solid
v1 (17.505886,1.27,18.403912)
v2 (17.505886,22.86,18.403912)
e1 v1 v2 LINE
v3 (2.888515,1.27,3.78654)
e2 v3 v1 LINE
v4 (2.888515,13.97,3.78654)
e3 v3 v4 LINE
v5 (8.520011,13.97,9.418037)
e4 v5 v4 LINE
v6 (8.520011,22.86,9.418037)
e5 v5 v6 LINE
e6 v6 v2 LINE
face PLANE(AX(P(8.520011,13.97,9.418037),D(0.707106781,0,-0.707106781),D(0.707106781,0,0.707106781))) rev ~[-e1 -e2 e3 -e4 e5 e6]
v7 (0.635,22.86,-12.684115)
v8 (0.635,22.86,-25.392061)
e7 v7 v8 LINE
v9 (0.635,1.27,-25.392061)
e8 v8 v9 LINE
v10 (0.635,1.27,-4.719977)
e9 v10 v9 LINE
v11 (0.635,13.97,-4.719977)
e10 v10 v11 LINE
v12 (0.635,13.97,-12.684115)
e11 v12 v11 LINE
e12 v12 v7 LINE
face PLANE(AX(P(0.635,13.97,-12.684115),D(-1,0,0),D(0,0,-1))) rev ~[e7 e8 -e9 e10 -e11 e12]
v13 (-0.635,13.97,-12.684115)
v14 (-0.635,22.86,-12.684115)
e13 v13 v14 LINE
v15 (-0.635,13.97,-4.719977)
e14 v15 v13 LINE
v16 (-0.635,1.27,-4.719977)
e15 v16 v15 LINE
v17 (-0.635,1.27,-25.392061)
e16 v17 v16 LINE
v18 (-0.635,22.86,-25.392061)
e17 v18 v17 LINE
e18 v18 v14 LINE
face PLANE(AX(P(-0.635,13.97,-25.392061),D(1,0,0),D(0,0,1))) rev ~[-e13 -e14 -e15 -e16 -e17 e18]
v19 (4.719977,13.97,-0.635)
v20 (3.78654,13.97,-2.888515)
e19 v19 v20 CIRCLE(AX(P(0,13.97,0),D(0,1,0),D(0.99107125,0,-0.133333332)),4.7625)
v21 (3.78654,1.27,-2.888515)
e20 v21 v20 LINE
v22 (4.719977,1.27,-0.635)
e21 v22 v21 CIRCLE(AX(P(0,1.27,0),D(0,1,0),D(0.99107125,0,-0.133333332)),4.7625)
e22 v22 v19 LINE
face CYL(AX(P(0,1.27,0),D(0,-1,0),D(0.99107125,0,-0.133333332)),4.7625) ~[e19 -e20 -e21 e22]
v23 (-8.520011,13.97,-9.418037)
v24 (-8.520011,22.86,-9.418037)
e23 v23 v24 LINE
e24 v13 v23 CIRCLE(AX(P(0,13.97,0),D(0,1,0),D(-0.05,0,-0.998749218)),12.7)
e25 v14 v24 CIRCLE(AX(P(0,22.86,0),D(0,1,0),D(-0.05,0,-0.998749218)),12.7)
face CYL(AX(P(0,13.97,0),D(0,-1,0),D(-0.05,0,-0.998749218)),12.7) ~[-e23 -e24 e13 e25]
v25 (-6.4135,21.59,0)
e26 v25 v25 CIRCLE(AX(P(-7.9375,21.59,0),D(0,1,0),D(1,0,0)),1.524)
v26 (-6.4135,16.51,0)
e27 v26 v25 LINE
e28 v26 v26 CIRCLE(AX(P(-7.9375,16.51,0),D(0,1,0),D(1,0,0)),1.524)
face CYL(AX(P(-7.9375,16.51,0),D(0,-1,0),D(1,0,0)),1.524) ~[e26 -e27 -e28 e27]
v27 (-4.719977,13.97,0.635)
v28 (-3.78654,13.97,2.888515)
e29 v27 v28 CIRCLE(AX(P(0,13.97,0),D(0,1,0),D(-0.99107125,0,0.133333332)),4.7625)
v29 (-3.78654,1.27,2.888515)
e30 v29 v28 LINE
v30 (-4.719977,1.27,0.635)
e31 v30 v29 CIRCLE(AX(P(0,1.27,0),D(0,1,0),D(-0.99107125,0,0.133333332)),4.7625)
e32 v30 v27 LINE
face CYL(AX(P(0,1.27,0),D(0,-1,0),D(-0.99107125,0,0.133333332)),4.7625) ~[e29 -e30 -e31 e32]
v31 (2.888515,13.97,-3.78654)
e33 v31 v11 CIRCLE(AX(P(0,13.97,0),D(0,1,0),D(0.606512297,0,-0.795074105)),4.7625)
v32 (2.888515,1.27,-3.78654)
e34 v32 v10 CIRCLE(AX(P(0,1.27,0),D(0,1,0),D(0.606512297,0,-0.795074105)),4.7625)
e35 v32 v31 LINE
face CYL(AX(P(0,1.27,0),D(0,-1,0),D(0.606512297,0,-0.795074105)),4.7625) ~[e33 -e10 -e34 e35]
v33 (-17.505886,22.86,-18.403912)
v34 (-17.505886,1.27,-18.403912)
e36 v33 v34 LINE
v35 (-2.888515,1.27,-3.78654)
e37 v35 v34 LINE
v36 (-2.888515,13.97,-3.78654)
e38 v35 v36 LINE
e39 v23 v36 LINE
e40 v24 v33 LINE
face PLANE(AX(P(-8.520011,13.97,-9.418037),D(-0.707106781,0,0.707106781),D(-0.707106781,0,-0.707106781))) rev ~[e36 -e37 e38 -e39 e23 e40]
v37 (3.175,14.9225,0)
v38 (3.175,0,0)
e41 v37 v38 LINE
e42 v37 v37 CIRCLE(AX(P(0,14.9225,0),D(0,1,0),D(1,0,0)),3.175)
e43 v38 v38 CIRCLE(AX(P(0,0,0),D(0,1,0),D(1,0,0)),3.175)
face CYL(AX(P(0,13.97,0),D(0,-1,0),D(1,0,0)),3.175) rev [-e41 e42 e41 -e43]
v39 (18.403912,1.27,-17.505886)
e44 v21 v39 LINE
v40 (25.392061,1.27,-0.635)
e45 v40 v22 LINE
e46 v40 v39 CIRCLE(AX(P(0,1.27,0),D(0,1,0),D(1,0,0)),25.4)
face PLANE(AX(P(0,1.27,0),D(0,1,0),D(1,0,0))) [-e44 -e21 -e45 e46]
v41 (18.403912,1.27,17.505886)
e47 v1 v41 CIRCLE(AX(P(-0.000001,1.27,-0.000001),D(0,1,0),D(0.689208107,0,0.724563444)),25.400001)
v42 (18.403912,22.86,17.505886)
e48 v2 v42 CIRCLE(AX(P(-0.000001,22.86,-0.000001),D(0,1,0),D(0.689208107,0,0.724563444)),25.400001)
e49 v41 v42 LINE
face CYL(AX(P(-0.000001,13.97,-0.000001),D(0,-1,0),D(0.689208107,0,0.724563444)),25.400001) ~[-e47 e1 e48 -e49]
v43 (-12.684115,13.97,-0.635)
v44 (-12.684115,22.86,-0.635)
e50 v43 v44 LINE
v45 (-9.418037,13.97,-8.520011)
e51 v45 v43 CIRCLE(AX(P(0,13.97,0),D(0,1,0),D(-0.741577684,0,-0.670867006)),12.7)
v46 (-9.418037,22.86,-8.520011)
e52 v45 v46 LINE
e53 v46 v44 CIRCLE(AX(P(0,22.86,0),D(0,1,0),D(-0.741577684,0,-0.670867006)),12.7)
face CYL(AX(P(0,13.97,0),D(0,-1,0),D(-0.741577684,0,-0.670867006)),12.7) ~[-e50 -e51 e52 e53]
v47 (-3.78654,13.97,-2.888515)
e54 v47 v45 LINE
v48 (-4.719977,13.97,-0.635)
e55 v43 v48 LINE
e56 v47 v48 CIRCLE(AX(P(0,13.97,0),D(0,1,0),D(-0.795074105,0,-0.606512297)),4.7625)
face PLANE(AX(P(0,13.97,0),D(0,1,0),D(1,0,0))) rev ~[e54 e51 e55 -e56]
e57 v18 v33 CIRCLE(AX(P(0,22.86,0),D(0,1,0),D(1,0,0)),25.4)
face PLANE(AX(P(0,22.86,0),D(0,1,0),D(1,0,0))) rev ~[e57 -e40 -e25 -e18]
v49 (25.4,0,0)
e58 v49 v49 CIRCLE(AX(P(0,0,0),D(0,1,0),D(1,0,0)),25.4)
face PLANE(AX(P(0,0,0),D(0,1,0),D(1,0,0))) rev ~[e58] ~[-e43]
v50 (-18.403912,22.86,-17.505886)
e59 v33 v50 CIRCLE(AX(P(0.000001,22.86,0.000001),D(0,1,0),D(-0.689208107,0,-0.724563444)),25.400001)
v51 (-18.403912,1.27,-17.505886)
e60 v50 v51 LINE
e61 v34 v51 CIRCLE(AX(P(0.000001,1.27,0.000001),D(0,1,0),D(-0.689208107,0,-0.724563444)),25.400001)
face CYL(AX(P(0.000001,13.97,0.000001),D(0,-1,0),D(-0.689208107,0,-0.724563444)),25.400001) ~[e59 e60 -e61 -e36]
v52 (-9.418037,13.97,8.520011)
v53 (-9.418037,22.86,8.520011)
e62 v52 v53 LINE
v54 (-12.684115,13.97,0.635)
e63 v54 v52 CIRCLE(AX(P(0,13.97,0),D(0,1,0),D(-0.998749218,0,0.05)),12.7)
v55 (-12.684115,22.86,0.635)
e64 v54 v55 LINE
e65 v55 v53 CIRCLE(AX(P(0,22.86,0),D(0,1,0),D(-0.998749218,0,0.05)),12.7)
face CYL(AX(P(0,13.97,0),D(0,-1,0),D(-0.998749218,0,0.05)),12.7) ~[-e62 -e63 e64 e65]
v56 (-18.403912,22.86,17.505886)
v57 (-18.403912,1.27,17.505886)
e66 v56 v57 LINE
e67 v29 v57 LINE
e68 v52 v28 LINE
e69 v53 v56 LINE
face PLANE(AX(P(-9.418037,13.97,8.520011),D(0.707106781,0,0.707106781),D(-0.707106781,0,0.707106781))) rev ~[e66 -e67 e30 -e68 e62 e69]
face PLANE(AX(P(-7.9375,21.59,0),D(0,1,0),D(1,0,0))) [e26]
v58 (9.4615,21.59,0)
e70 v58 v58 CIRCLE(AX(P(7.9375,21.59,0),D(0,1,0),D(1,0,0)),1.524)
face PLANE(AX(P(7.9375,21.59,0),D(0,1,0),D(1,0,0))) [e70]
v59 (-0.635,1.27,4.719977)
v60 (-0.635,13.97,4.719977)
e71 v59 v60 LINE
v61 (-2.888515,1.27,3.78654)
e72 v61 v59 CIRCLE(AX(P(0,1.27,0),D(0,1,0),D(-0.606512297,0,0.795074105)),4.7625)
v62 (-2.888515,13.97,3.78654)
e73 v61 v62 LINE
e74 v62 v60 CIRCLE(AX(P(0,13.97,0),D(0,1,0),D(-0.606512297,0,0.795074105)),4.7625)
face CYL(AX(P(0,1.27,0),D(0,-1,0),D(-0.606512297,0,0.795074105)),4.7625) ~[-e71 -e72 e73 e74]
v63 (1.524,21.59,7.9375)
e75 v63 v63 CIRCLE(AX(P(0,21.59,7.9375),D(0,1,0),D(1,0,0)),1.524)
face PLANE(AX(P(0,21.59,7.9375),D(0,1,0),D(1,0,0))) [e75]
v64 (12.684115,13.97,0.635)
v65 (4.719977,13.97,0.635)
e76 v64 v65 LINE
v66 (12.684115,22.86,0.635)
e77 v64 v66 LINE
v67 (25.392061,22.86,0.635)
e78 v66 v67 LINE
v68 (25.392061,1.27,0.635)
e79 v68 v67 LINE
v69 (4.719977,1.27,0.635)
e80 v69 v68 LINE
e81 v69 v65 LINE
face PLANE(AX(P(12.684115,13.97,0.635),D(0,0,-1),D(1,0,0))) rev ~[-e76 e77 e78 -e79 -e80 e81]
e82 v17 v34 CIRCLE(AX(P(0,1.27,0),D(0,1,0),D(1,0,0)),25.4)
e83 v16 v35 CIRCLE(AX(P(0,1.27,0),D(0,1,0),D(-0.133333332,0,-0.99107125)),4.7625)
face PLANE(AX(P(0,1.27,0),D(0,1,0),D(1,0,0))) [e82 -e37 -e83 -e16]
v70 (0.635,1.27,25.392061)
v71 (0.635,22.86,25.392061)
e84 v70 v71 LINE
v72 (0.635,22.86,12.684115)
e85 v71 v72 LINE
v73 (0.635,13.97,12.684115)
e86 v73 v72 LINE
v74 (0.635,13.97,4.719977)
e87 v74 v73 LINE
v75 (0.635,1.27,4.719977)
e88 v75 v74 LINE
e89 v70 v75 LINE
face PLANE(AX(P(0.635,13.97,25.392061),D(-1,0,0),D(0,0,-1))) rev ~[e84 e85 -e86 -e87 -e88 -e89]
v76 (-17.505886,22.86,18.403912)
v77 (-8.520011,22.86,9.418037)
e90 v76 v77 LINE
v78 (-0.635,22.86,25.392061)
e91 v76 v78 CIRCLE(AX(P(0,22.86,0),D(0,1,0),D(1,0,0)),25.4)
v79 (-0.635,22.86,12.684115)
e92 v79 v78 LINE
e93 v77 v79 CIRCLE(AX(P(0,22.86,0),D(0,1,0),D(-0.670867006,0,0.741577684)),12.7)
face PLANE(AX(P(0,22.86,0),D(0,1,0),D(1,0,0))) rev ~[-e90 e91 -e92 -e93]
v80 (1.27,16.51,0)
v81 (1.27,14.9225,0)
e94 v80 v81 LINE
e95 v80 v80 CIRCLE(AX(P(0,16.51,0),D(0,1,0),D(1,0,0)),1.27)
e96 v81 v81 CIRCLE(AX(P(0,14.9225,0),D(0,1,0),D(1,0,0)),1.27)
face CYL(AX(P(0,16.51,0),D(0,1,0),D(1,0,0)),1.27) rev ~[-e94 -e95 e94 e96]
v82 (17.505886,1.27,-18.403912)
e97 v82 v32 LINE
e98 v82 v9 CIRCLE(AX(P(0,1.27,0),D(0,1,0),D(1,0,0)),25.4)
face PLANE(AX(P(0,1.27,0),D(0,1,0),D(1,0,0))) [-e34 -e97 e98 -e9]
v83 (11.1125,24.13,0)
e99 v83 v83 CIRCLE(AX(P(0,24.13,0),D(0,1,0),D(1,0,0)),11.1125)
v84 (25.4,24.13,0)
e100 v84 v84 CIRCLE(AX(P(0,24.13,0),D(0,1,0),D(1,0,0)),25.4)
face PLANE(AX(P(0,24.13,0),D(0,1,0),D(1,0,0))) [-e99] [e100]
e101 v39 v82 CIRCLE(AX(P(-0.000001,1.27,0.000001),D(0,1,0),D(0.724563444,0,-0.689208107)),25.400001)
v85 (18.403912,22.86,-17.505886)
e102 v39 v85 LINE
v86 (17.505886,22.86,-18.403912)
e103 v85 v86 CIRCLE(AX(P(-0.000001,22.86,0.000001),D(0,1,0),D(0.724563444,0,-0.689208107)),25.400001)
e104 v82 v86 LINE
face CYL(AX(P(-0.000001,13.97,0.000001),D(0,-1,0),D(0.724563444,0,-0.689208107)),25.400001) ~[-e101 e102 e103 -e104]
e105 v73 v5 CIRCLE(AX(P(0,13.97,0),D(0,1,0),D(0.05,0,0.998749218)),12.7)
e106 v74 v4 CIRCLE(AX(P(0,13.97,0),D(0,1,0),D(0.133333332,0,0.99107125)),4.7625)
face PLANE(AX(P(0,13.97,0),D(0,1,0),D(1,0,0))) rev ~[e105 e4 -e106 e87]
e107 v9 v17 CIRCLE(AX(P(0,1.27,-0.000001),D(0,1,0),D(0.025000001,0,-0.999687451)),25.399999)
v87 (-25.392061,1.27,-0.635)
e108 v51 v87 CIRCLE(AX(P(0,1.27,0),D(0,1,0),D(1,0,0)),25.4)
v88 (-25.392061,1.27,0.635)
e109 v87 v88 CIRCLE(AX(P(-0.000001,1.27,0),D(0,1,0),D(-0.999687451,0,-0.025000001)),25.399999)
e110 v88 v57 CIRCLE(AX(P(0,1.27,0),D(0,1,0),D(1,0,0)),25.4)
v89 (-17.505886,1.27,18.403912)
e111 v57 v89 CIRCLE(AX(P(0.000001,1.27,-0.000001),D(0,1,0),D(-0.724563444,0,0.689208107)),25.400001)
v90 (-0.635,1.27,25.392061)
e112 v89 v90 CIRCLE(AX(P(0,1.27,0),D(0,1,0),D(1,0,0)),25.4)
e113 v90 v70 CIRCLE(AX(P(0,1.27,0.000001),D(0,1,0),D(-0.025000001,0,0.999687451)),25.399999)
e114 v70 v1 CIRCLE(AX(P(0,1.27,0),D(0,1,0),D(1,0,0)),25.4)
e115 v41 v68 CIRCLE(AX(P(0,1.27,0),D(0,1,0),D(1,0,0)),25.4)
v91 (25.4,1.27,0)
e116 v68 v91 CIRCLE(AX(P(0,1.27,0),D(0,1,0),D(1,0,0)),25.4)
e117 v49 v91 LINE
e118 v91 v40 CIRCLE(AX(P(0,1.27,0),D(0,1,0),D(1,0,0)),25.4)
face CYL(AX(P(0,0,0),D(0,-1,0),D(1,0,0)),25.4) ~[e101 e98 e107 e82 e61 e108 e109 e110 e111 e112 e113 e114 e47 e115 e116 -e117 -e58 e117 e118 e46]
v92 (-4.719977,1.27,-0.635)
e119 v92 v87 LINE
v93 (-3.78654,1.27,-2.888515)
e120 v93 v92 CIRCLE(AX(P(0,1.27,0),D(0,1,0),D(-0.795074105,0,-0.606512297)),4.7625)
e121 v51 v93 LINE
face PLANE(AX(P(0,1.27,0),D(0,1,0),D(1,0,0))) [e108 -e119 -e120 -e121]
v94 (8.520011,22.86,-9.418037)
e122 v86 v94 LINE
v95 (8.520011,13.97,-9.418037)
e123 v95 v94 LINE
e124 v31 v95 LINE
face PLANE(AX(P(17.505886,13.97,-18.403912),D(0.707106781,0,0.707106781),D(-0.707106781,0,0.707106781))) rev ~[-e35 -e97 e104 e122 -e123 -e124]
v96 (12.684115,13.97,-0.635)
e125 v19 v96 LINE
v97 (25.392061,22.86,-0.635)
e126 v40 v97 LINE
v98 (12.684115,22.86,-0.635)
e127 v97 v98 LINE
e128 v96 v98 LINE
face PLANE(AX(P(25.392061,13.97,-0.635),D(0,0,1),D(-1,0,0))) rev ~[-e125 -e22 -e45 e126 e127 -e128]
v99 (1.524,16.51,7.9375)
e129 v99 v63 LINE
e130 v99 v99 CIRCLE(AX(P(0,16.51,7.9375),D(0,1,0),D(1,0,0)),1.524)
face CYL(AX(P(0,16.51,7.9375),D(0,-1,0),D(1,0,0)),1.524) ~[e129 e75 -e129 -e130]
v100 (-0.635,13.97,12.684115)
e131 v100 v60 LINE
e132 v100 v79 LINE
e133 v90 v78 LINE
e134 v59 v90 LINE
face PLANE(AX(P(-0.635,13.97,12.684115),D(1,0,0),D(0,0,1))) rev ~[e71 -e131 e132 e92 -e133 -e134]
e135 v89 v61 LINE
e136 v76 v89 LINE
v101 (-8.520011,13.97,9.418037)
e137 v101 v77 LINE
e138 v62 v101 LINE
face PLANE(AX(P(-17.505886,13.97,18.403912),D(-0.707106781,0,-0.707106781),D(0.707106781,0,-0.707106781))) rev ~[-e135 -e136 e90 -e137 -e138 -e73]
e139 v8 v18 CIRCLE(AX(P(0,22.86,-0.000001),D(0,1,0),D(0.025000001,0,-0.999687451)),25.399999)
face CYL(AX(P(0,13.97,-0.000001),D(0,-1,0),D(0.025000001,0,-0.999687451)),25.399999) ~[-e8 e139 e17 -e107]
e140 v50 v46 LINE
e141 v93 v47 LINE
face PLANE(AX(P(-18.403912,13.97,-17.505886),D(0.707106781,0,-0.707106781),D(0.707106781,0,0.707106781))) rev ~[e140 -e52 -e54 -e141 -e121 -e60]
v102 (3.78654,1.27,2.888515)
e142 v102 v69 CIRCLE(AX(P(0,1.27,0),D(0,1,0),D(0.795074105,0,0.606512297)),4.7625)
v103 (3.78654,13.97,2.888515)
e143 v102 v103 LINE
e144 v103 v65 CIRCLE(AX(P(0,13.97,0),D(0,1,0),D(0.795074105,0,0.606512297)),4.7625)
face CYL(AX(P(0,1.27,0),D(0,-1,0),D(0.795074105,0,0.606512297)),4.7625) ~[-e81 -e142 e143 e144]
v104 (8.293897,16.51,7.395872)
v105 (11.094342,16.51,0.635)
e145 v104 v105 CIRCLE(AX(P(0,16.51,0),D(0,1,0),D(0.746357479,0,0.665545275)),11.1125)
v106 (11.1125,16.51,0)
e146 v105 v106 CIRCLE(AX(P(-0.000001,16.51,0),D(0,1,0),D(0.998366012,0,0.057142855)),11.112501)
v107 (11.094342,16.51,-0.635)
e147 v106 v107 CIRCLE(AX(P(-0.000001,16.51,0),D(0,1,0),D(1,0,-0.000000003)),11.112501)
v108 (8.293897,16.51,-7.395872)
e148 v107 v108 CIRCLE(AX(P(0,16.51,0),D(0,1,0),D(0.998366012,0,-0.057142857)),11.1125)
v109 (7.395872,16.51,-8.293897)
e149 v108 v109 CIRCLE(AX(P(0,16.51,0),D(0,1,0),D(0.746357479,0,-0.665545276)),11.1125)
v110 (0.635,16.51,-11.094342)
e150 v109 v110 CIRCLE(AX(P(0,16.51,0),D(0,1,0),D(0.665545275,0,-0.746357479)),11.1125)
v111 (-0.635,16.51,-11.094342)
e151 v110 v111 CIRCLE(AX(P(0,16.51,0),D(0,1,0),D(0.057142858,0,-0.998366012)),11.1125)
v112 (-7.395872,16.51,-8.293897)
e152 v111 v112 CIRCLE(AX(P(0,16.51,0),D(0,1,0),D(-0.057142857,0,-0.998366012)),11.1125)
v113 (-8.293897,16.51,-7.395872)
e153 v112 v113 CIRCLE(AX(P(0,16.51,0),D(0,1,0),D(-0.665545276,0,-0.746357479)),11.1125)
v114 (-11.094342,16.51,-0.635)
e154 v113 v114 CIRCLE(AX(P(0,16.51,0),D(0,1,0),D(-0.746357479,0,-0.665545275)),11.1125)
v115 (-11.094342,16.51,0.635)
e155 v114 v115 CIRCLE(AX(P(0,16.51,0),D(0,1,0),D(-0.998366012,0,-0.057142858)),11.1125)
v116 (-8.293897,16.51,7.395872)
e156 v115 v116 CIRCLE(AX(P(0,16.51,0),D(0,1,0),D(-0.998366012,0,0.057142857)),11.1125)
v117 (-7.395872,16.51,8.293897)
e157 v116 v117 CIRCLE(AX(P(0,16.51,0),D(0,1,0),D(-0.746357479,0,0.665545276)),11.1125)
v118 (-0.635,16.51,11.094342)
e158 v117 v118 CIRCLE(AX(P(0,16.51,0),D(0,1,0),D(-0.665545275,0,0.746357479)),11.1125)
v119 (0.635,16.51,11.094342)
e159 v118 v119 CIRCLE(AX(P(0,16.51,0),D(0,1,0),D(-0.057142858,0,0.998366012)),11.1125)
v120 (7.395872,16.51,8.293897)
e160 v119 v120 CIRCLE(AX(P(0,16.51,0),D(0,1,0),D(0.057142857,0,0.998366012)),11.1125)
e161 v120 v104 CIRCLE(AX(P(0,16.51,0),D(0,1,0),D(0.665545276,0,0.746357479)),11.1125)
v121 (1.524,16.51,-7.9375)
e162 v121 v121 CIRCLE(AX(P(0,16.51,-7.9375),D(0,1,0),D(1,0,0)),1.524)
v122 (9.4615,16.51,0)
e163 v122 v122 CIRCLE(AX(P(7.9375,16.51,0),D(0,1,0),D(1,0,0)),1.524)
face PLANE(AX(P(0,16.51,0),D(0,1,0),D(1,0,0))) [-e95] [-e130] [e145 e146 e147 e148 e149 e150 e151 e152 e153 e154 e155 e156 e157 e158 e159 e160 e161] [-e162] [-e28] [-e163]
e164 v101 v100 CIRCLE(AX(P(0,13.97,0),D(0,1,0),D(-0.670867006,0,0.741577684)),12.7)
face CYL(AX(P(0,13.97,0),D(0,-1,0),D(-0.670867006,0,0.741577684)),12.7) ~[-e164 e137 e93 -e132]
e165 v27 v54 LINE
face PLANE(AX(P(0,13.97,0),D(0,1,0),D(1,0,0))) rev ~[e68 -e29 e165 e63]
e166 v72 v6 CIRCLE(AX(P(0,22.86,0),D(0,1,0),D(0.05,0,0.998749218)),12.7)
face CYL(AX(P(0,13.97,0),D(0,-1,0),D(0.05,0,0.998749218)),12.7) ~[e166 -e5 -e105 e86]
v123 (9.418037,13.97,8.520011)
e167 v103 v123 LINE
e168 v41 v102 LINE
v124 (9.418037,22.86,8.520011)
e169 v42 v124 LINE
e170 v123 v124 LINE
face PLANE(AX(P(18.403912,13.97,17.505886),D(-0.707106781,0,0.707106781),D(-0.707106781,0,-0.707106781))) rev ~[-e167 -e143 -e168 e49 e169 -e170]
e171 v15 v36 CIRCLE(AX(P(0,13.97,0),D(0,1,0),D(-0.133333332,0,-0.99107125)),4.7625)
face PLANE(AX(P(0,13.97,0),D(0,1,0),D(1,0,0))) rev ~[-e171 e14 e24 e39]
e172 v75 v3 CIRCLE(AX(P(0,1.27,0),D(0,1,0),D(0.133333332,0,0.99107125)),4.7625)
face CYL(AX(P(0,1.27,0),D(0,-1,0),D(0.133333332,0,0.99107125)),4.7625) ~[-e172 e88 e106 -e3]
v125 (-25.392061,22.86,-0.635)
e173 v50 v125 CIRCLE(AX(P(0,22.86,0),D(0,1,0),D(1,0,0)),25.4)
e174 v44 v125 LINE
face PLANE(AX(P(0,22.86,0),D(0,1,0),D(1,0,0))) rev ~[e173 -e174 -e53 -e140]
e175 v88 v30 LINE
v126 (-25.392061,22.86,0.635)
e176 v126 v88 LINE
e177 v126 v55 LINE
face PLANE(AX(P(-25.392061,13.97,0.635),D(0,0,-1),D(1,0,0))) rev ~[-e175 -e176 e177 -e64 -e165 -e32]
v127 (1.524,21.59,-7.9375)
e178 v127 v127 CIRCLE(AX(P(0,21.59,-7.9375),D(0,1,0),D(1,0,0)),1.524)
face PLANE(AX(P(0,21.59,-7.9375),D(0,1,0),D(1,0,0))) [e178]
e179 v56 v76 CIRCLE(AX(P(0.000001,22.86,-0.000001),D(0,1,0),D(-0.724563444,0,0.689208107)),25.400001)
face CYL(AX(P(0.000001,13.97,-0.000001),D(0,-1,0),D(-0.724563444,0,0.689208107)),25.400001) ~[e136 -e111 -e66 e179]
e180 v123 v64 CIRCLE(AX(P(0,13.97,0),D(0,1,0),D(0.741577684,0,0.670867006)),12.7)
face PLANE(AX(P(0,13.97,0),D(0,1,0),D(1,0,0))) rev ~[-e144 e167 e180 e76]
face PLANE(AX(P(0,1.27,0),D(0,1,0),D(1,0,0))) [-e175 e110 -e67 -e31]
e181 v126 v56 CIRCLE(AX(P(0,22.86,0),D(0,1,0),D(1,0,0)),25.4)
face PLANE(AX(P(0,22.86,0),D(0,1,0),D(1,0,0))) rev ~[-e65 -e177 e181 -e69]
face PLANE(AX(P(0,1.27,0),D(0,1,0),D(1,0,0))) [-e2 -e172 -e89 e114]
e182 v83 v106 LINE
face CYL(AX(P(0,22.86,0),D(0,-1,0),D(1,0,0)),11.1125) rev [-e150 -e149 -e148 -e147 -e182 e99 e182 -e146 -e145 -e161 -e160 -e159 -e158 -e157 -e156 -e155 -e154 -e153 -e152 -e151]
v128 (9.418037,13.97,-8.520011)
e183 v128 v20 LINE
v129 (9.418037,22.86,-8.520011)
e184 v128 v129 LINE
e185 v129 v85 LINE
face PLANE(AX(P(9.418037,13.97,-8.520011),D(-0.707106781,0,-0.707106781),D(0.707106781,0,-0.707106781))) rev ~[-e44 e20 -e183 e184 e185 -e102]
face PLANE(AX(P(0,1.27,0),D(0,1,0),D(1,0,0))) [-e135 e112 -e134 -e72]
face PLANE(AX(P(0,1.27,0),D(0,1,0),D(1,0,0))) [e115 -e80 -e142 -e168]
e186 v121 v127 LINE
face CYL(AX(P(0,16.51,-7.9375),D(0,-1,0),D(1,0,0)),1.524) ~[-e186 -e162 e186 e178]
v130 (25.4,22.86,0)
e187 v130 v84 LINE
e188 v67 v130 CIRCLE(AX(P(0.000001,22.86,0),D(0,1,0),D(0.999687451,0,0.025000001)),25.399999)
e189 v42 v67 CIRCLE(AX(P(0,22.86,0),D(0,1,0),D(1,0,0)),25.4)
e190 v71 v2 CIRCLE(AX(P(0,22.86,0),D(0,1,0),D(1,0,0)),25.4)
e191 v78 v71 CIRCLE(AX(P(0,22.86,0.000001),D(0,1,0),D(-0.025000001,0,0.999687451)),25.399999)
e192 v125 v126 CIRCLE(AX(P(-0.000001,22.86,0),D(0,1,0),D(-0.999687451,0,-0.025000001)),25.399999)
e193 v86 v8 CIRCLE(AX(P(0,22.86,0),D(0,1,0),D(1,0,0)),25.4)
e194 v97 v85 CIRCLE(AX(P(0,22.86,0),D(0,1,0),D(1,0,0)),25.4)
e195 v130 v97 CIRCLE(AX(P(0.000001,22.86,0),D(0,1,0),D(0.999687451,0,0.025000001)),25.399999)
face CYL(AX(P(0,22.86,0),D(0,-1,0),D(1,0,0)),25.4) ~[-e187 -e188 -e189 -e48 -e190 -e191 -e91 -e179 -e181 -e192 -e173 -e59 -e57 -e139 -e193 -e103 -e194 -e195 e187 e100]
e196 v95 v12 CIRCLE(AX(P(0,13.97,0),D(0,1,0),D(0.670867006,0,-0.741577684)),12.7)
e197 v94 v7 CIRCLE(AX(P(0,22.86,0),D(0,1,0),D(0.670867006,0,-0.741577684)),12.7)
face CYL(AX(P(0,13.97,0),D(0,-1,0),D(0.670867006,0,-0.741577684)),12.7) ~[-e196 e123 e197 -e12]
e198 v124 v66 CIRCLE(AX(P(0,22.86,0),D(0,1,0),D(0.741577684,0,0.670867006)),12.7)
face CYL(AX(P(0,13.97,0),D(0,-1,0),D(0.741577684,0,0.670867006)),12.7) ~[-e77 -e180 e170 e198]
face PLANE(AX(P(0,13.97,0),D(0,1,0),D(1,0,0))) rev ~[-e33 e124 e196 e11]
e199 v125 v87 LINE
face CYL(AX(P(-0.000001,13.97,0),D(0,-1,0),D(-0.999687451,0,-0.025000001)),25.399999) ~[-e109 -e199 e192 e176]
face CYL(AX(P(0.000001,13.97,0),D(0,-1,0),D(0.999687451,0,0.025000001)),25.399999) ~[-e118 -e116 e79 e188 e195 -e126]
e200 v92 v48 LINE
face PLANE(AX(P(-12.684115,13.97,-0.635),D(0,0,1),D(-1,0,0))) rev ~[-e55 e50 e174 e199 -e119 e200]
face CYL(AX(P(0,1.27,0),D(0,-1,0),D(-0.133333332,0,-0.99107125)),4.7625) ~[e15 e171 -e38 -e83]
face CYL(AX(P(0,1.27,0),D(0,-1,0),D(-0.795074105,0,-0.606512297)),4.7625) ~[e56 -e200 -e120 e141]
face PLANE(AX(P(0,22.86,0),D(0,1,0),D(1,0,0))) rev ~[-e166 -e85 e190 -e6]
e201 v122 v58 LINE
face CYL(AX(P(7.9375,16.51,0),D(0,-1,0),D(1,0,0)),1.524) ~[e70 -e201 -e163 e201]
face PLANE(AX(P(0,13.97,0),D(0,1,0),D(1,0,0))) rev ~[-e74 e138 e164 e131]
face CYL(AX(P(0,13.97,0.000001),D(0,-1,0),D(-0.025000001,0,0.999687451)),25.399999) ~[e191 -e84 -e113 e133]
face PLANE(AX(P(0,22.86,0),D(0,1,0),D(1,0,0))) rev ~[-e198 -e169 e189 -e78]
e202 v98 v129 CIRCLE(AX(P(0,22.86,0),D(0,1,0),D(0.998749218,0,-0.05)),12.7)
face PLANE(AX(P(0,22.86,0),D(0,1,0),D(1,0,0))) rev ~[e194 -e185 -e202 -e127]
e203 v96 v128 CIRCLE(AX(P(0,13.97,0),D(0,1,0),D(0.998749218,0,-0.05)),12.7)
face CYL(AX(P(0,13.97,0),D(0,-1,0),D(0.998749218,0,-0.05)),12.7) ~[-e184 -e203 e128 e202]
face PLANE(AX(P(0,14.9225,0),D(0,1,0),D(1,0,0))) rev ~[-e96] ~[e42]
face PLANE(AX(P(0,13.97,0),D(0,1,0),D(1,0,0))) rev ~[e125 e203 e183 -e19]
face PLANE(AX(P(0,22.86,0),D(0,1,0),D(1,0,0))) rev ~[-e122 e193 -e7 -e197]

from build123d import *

# Parameters (mm, degrees)
SKETCH1_R            = 25.4
SKETCH1_R_2          = 3.175
BOSS_EXTRUDE1_DEPTH  = 1.27
SKETCH2_R            = 3.175
BOSS_EXTRUDE4_DEPTH  = 12.7
SKETCH5_R            = 11.1125
SKETCH5_R_2          = 3.175
BOSS_EXTRUDE6_DEPTH  = 2.54
SKETCH5_4_R          = 11.1125
BOSS_EXTRUDE7_DEPTH  = 8.89
SKETCH6_R            = 25.4
SKETCH6_R_2          = 11.1125
BOSS_EXTRUDE8_DEPTH  = 1.27
SKETCH7_R            = 1.524
BOSS_EXTRUDE9_DEPTH  = 5.08
BOSS_EXTRUDE10_START = -1.5875
SKETCH8_R            = 3.175
SKETCH8_R_2          = 1.27
BOSS_EXTRUDE10_DEPTH = 1.5875


with BuildPart() as part:
    # Sketch1 → Boss-Extrude1 (new body)
    with BuildSketch(Plane(origin=(0, 0, 0), x_dir=(1, 0, 0), z_dir=(0, 1, 0))):
        Circle(SKETCH1_R)
        Circle(SKETCH1_R_2, mode=Mode.SUBTRACT)
    extrude(amount=BOSS_EXTRUDE1_DEPTH)

    # Sketch2 → Boss-Extrude4 (add)
    with BuildSketch(Plane(origin=(0, 1.27, 0), x_dir=(1, 0, 0), z_dir=(0, 1, 0))):
        with BuildLine():
            ThreePointArc((0.635, 25.392061259), (0, 25.4), (-0.635, 25.392061259))
            Line((-0.635, 25.392061259), (-0.635, 4.719976827))
            ThreePointArc((-0.635, 4.719976827), (-1.822529847, 4.399976274), (-2.888514816, 3.786540428))
            Line((-2.888514816, 3.786540428), (-17.505885899, 18.403911511))
            ThreePointArc((-17.505885899, 18.403911511), (-17.960512242, 17.960512242), (-18.403911511, 17.505885899))
            Line((-18.403911511, 17.505885899), (-3.786540428, 2.888514816))
            ThreePointArc((-3.786540428, 2.888514816), (-4.399976274, 1.822529847), (-4.719976827, 0.635))
            Line((-4.719976827, 0.635), (-25.392061259, 0.635))
            ThreePointArc((-25.392061259, 0.635), (-25.4, 0), (-25.392061259, -0.635))
            Line((-25.392061259, -0.635), (-4.719976827, -0.635))
            ThreePointArc((-4.719976827, -0.635), (-4.399976274, -1.822529847), (-3.786540428, -2.888514816))
            Line((-3.786540428, -2.888514816), (-18.403911511, -17.505885899))
            ThreePointArc((-18.403911511, -17.505885899), (-17.960512242, -17.960512242), (-17.505885899, -18.403911511))
            Line((-17.505885899, -18.403911511), (-2.888514816, -3.786540428))
            ThreePointArc((-2.888514816, -3.786540428), (-1.822529847, -4.399976274), (-0.635, -4.719976827))
            Line((-0.635, -4.719976827), (-0.635, -25.392061259))
            ThreePointArc((-0.635, -25.392061259), (0, -25.4), (0.635, -25.392061259))
            Line((0.635, -25.392061259), (0.635, -4.719976827))
            ThreePointArc((0.635, -4.719976827), (1.822529847, -4.399976274), (2.888514816, -3.786540428))
            Line((2.888514816, -3.786540428), (17.505885899, -18.403911511))
            ThreePointArc((17.505885899, -18.403911511), (17.960512242, -17.960512242), (18.403911511, -17.505885899))
            Line((18.403911511, -17.505885899), (3.786540428, -2.888514816))
            ThreePointArc((3.786540428, -2.888514816), (4.399976274, -1.822529847), (4.719976827, -0.635))
            Line((4.719976827, -0.635), (25.392061259, -0.635))
            ThreePointArc((25.392061259, -0.635), (25.4, 0), (25.392061259, 0.635))
            Line((25.392061259, 0.635), (4.719976827, 0.635))
            ThreePointArc((4.719976827, 0.635), (4.399976274, 1.822529847), (3.786540428, 2.888514816))
            Line((3.786540428, 2.888514816), (18.403911511, 17.505885899))
            ThreePointArc((18.403911511, 17.505885899), (17.960512242, 17.960512242), (17.505885899, 18.403911511))
            Line((17.505885899, 18.403911511), (2.888514816, 3.786540428))
            ThreePointArc((2.888514816, 3.786540428), (1.822529847, 4.399976274), (0.635, 4.719976827))
            Line((0.635, 4.719976827), (0.635, 25.392061259))
        make_face()
        Circle(SKETCH2_R, mode=Mode.SUBTRACT)
    extrude(amount=BOSS_EXTRUDE4_DEPTH)

    # Sketch5 → Boss-Extrude6 (add)
    with BuildSketch(Plane(origin=(0, 13.97, 0), x_dir=(1, 0, 0), z_dir=(0, 1, 0))):
        Circle(SKETCH5_R)
        Circle(SKETCH5_R_2, mode=Mode.SUBTRACT)
    extrude(amount=BOSS_EXTRUDE6_DEPTH)

    # Sketch5<4> → Boss-Extrude7 (add)
    with BuildSketch(Plane(origin=(0, 13.97, 0), x_dir=(1, 0, 0), z_dir=(0, 1, 0))):
        with BuildLine():
            ThreePointArc((0.635, -12.684115066), (4.860079591, -11.733270063), (8.52001097, -9.418036582))
            Line((8.52001097, -9.418036582), (17.505885899, -18.403911511))
            ThreePointArc((17.505885899, -18.403911511), (17.960512242, -17.960512242), (18.403911511, -17.505885899))
            Line((18.403911511, -17.505885899), (9.418036582, -8.52001097))
            ThreePointArc((9.418036582, -8.52001097), (11.733270063, -4.860079591), (12.684115066, -0.635))
            Line((12.684115066, -0.635), (25.392061259, -0.635))
            ThreePointArc((25.392061259, -0.635), (25.4, 0), (25.392061259, 0.635))
            Line((25.392061259, 0.635), (12.684115066, 0.635))
            ThreePointArc((12.684115066, 0.635), (11.733270063, 4.860079591), (9.418036582, 8.52001097))
            Line((9.418036582, 8.52001097), (18.403911511, 17.505885899))
            ThreePointArc((18.403911511, 17.505885899), (17.960512242, 17.960512242), (17.505885899, 18.403911511))
            Line((17.505885899, 18.403911511), (8.52001097, 9.418036582))
            ThreePointArc((8.52001097, 9.418036582), (4.860079591, 11.733270063), (0.635, 12.684115066))
            Line((0.635, 12.684115066), (0.635, 25.392061259))
            ThreePointArc((0.635, 25.392061259), (0, 25.4), (-0.635, 25.392061259))
            Line((-0.635, 25.392061259), (-0.635, 12.684115066))
            ThreePointArc((-0.635, 12.684115066), (-4.860079591, 11.733270063), (-8.52001097, 9.418036582))
            Line((-8.52001097, 9.418036582), (-17.505885899, 18.403911511))
            ThreePointArc((-17.505885899, 18.403911511), (-17.960512242, 17.960512242), (-18.403911511, 17.505885899))
            Line((-18.403911511, 17.505885899), (-9.418036582, 8.52001097))
            ThreePointArc((-9.418036582, 8.52001097), (-11.733270063, 4.860079591), (-12.684115066, 0.635))
            Line((-12.684115066, 0.635), (-25.392061259, 0.635))
            ThreePointArc((-25.392061259, 0.635), (-25.4, 0), (-25.392061259, -0.635))
            Line((-25.392061259, -0.635), (-12.684115066, -0.635))
            ThreePointArc((-12.684115066, -0.635), (-11.733270063, -4.860079591), (-9.418036582, -8.52001097))
            Line((-9.418036582, -8.52001097), (-18.403911511, -17.505885899))
            ThreePointArc((-18.403911511, -17.505885899), (-17.960512242, -17.960512242), (-17.505885899, -18.403911511))
            Line((-17.505885899, -18.403911511), (-8.52001097, -9.418036582))
            ThreePointArc((-8.52001097, -9.418036582), (-4.860079591, -11.733270063), (-0.635, -12.684115066))
            Line((-0.635, -12.684115066), (-0.635, -25.392061259))
            ThreePointArc((-0.635, -25.392061259), (0, -25.4), (0.635, -25.392061259))
            Line((0.635, -25.392061259), (0.635, -12.684115066))
        make_face()
        Circle(SKETCH5_4_R, mode=Mode.SUBTRACT)
    extrude(amount=BOSS_EXTRUDE7_DEPTH)

    # Sketch6 → Boss-Extrude8 (add)
    with BuildSketch(Plane(origin=(0, 22.86, 0), x_dir=(1, 0, 0), z_dir=(0, 1, 0))):
        Circle(SKETCH6_R)
        Circle(SKETCH6_R_2, mode=Mode.SUBTRACT)
    extrude(amount=BOSS_EXTRUDE8_DEPTH)

    # Sketch7 → Boss-Extrude9 (add)
    with BuildSketch(Plane(origin=(0, 16.51, 0), x_dir=(1, 0, 0), z_dir=(0, 1, 0))):
        with Locations((7.9375, 0)):
            Circle(SKETCH7_R)
        with Locations((0, -7.9375)):
            Circle(SKETCH7_R)
        with Locations((-7.9375, 0)):
            Circle(SKETCH7_R)
        with Locations((0, 7.9375)):
            Circle(SKETCH7_R)
    extrude(amount=BOSS_EXTRUDE9_DEPTH)

    # Sketch8 → Boss-Extrude10 (add)
    with BuildSketch(Plane(origin=(0, 16.51, 0), x_dir=(1, 0, 0), z_dir=(0, 1, 0)).offset(BOSS_EXTRUDE10_START)):
        Circle(SKETCH8_R)
        Circle(SKETCH8_R_2, mode=Mode.SUBTRACT)
    extrude(amount=BOSS_EXTRUDE10_DEPTH)


solid = part.part
